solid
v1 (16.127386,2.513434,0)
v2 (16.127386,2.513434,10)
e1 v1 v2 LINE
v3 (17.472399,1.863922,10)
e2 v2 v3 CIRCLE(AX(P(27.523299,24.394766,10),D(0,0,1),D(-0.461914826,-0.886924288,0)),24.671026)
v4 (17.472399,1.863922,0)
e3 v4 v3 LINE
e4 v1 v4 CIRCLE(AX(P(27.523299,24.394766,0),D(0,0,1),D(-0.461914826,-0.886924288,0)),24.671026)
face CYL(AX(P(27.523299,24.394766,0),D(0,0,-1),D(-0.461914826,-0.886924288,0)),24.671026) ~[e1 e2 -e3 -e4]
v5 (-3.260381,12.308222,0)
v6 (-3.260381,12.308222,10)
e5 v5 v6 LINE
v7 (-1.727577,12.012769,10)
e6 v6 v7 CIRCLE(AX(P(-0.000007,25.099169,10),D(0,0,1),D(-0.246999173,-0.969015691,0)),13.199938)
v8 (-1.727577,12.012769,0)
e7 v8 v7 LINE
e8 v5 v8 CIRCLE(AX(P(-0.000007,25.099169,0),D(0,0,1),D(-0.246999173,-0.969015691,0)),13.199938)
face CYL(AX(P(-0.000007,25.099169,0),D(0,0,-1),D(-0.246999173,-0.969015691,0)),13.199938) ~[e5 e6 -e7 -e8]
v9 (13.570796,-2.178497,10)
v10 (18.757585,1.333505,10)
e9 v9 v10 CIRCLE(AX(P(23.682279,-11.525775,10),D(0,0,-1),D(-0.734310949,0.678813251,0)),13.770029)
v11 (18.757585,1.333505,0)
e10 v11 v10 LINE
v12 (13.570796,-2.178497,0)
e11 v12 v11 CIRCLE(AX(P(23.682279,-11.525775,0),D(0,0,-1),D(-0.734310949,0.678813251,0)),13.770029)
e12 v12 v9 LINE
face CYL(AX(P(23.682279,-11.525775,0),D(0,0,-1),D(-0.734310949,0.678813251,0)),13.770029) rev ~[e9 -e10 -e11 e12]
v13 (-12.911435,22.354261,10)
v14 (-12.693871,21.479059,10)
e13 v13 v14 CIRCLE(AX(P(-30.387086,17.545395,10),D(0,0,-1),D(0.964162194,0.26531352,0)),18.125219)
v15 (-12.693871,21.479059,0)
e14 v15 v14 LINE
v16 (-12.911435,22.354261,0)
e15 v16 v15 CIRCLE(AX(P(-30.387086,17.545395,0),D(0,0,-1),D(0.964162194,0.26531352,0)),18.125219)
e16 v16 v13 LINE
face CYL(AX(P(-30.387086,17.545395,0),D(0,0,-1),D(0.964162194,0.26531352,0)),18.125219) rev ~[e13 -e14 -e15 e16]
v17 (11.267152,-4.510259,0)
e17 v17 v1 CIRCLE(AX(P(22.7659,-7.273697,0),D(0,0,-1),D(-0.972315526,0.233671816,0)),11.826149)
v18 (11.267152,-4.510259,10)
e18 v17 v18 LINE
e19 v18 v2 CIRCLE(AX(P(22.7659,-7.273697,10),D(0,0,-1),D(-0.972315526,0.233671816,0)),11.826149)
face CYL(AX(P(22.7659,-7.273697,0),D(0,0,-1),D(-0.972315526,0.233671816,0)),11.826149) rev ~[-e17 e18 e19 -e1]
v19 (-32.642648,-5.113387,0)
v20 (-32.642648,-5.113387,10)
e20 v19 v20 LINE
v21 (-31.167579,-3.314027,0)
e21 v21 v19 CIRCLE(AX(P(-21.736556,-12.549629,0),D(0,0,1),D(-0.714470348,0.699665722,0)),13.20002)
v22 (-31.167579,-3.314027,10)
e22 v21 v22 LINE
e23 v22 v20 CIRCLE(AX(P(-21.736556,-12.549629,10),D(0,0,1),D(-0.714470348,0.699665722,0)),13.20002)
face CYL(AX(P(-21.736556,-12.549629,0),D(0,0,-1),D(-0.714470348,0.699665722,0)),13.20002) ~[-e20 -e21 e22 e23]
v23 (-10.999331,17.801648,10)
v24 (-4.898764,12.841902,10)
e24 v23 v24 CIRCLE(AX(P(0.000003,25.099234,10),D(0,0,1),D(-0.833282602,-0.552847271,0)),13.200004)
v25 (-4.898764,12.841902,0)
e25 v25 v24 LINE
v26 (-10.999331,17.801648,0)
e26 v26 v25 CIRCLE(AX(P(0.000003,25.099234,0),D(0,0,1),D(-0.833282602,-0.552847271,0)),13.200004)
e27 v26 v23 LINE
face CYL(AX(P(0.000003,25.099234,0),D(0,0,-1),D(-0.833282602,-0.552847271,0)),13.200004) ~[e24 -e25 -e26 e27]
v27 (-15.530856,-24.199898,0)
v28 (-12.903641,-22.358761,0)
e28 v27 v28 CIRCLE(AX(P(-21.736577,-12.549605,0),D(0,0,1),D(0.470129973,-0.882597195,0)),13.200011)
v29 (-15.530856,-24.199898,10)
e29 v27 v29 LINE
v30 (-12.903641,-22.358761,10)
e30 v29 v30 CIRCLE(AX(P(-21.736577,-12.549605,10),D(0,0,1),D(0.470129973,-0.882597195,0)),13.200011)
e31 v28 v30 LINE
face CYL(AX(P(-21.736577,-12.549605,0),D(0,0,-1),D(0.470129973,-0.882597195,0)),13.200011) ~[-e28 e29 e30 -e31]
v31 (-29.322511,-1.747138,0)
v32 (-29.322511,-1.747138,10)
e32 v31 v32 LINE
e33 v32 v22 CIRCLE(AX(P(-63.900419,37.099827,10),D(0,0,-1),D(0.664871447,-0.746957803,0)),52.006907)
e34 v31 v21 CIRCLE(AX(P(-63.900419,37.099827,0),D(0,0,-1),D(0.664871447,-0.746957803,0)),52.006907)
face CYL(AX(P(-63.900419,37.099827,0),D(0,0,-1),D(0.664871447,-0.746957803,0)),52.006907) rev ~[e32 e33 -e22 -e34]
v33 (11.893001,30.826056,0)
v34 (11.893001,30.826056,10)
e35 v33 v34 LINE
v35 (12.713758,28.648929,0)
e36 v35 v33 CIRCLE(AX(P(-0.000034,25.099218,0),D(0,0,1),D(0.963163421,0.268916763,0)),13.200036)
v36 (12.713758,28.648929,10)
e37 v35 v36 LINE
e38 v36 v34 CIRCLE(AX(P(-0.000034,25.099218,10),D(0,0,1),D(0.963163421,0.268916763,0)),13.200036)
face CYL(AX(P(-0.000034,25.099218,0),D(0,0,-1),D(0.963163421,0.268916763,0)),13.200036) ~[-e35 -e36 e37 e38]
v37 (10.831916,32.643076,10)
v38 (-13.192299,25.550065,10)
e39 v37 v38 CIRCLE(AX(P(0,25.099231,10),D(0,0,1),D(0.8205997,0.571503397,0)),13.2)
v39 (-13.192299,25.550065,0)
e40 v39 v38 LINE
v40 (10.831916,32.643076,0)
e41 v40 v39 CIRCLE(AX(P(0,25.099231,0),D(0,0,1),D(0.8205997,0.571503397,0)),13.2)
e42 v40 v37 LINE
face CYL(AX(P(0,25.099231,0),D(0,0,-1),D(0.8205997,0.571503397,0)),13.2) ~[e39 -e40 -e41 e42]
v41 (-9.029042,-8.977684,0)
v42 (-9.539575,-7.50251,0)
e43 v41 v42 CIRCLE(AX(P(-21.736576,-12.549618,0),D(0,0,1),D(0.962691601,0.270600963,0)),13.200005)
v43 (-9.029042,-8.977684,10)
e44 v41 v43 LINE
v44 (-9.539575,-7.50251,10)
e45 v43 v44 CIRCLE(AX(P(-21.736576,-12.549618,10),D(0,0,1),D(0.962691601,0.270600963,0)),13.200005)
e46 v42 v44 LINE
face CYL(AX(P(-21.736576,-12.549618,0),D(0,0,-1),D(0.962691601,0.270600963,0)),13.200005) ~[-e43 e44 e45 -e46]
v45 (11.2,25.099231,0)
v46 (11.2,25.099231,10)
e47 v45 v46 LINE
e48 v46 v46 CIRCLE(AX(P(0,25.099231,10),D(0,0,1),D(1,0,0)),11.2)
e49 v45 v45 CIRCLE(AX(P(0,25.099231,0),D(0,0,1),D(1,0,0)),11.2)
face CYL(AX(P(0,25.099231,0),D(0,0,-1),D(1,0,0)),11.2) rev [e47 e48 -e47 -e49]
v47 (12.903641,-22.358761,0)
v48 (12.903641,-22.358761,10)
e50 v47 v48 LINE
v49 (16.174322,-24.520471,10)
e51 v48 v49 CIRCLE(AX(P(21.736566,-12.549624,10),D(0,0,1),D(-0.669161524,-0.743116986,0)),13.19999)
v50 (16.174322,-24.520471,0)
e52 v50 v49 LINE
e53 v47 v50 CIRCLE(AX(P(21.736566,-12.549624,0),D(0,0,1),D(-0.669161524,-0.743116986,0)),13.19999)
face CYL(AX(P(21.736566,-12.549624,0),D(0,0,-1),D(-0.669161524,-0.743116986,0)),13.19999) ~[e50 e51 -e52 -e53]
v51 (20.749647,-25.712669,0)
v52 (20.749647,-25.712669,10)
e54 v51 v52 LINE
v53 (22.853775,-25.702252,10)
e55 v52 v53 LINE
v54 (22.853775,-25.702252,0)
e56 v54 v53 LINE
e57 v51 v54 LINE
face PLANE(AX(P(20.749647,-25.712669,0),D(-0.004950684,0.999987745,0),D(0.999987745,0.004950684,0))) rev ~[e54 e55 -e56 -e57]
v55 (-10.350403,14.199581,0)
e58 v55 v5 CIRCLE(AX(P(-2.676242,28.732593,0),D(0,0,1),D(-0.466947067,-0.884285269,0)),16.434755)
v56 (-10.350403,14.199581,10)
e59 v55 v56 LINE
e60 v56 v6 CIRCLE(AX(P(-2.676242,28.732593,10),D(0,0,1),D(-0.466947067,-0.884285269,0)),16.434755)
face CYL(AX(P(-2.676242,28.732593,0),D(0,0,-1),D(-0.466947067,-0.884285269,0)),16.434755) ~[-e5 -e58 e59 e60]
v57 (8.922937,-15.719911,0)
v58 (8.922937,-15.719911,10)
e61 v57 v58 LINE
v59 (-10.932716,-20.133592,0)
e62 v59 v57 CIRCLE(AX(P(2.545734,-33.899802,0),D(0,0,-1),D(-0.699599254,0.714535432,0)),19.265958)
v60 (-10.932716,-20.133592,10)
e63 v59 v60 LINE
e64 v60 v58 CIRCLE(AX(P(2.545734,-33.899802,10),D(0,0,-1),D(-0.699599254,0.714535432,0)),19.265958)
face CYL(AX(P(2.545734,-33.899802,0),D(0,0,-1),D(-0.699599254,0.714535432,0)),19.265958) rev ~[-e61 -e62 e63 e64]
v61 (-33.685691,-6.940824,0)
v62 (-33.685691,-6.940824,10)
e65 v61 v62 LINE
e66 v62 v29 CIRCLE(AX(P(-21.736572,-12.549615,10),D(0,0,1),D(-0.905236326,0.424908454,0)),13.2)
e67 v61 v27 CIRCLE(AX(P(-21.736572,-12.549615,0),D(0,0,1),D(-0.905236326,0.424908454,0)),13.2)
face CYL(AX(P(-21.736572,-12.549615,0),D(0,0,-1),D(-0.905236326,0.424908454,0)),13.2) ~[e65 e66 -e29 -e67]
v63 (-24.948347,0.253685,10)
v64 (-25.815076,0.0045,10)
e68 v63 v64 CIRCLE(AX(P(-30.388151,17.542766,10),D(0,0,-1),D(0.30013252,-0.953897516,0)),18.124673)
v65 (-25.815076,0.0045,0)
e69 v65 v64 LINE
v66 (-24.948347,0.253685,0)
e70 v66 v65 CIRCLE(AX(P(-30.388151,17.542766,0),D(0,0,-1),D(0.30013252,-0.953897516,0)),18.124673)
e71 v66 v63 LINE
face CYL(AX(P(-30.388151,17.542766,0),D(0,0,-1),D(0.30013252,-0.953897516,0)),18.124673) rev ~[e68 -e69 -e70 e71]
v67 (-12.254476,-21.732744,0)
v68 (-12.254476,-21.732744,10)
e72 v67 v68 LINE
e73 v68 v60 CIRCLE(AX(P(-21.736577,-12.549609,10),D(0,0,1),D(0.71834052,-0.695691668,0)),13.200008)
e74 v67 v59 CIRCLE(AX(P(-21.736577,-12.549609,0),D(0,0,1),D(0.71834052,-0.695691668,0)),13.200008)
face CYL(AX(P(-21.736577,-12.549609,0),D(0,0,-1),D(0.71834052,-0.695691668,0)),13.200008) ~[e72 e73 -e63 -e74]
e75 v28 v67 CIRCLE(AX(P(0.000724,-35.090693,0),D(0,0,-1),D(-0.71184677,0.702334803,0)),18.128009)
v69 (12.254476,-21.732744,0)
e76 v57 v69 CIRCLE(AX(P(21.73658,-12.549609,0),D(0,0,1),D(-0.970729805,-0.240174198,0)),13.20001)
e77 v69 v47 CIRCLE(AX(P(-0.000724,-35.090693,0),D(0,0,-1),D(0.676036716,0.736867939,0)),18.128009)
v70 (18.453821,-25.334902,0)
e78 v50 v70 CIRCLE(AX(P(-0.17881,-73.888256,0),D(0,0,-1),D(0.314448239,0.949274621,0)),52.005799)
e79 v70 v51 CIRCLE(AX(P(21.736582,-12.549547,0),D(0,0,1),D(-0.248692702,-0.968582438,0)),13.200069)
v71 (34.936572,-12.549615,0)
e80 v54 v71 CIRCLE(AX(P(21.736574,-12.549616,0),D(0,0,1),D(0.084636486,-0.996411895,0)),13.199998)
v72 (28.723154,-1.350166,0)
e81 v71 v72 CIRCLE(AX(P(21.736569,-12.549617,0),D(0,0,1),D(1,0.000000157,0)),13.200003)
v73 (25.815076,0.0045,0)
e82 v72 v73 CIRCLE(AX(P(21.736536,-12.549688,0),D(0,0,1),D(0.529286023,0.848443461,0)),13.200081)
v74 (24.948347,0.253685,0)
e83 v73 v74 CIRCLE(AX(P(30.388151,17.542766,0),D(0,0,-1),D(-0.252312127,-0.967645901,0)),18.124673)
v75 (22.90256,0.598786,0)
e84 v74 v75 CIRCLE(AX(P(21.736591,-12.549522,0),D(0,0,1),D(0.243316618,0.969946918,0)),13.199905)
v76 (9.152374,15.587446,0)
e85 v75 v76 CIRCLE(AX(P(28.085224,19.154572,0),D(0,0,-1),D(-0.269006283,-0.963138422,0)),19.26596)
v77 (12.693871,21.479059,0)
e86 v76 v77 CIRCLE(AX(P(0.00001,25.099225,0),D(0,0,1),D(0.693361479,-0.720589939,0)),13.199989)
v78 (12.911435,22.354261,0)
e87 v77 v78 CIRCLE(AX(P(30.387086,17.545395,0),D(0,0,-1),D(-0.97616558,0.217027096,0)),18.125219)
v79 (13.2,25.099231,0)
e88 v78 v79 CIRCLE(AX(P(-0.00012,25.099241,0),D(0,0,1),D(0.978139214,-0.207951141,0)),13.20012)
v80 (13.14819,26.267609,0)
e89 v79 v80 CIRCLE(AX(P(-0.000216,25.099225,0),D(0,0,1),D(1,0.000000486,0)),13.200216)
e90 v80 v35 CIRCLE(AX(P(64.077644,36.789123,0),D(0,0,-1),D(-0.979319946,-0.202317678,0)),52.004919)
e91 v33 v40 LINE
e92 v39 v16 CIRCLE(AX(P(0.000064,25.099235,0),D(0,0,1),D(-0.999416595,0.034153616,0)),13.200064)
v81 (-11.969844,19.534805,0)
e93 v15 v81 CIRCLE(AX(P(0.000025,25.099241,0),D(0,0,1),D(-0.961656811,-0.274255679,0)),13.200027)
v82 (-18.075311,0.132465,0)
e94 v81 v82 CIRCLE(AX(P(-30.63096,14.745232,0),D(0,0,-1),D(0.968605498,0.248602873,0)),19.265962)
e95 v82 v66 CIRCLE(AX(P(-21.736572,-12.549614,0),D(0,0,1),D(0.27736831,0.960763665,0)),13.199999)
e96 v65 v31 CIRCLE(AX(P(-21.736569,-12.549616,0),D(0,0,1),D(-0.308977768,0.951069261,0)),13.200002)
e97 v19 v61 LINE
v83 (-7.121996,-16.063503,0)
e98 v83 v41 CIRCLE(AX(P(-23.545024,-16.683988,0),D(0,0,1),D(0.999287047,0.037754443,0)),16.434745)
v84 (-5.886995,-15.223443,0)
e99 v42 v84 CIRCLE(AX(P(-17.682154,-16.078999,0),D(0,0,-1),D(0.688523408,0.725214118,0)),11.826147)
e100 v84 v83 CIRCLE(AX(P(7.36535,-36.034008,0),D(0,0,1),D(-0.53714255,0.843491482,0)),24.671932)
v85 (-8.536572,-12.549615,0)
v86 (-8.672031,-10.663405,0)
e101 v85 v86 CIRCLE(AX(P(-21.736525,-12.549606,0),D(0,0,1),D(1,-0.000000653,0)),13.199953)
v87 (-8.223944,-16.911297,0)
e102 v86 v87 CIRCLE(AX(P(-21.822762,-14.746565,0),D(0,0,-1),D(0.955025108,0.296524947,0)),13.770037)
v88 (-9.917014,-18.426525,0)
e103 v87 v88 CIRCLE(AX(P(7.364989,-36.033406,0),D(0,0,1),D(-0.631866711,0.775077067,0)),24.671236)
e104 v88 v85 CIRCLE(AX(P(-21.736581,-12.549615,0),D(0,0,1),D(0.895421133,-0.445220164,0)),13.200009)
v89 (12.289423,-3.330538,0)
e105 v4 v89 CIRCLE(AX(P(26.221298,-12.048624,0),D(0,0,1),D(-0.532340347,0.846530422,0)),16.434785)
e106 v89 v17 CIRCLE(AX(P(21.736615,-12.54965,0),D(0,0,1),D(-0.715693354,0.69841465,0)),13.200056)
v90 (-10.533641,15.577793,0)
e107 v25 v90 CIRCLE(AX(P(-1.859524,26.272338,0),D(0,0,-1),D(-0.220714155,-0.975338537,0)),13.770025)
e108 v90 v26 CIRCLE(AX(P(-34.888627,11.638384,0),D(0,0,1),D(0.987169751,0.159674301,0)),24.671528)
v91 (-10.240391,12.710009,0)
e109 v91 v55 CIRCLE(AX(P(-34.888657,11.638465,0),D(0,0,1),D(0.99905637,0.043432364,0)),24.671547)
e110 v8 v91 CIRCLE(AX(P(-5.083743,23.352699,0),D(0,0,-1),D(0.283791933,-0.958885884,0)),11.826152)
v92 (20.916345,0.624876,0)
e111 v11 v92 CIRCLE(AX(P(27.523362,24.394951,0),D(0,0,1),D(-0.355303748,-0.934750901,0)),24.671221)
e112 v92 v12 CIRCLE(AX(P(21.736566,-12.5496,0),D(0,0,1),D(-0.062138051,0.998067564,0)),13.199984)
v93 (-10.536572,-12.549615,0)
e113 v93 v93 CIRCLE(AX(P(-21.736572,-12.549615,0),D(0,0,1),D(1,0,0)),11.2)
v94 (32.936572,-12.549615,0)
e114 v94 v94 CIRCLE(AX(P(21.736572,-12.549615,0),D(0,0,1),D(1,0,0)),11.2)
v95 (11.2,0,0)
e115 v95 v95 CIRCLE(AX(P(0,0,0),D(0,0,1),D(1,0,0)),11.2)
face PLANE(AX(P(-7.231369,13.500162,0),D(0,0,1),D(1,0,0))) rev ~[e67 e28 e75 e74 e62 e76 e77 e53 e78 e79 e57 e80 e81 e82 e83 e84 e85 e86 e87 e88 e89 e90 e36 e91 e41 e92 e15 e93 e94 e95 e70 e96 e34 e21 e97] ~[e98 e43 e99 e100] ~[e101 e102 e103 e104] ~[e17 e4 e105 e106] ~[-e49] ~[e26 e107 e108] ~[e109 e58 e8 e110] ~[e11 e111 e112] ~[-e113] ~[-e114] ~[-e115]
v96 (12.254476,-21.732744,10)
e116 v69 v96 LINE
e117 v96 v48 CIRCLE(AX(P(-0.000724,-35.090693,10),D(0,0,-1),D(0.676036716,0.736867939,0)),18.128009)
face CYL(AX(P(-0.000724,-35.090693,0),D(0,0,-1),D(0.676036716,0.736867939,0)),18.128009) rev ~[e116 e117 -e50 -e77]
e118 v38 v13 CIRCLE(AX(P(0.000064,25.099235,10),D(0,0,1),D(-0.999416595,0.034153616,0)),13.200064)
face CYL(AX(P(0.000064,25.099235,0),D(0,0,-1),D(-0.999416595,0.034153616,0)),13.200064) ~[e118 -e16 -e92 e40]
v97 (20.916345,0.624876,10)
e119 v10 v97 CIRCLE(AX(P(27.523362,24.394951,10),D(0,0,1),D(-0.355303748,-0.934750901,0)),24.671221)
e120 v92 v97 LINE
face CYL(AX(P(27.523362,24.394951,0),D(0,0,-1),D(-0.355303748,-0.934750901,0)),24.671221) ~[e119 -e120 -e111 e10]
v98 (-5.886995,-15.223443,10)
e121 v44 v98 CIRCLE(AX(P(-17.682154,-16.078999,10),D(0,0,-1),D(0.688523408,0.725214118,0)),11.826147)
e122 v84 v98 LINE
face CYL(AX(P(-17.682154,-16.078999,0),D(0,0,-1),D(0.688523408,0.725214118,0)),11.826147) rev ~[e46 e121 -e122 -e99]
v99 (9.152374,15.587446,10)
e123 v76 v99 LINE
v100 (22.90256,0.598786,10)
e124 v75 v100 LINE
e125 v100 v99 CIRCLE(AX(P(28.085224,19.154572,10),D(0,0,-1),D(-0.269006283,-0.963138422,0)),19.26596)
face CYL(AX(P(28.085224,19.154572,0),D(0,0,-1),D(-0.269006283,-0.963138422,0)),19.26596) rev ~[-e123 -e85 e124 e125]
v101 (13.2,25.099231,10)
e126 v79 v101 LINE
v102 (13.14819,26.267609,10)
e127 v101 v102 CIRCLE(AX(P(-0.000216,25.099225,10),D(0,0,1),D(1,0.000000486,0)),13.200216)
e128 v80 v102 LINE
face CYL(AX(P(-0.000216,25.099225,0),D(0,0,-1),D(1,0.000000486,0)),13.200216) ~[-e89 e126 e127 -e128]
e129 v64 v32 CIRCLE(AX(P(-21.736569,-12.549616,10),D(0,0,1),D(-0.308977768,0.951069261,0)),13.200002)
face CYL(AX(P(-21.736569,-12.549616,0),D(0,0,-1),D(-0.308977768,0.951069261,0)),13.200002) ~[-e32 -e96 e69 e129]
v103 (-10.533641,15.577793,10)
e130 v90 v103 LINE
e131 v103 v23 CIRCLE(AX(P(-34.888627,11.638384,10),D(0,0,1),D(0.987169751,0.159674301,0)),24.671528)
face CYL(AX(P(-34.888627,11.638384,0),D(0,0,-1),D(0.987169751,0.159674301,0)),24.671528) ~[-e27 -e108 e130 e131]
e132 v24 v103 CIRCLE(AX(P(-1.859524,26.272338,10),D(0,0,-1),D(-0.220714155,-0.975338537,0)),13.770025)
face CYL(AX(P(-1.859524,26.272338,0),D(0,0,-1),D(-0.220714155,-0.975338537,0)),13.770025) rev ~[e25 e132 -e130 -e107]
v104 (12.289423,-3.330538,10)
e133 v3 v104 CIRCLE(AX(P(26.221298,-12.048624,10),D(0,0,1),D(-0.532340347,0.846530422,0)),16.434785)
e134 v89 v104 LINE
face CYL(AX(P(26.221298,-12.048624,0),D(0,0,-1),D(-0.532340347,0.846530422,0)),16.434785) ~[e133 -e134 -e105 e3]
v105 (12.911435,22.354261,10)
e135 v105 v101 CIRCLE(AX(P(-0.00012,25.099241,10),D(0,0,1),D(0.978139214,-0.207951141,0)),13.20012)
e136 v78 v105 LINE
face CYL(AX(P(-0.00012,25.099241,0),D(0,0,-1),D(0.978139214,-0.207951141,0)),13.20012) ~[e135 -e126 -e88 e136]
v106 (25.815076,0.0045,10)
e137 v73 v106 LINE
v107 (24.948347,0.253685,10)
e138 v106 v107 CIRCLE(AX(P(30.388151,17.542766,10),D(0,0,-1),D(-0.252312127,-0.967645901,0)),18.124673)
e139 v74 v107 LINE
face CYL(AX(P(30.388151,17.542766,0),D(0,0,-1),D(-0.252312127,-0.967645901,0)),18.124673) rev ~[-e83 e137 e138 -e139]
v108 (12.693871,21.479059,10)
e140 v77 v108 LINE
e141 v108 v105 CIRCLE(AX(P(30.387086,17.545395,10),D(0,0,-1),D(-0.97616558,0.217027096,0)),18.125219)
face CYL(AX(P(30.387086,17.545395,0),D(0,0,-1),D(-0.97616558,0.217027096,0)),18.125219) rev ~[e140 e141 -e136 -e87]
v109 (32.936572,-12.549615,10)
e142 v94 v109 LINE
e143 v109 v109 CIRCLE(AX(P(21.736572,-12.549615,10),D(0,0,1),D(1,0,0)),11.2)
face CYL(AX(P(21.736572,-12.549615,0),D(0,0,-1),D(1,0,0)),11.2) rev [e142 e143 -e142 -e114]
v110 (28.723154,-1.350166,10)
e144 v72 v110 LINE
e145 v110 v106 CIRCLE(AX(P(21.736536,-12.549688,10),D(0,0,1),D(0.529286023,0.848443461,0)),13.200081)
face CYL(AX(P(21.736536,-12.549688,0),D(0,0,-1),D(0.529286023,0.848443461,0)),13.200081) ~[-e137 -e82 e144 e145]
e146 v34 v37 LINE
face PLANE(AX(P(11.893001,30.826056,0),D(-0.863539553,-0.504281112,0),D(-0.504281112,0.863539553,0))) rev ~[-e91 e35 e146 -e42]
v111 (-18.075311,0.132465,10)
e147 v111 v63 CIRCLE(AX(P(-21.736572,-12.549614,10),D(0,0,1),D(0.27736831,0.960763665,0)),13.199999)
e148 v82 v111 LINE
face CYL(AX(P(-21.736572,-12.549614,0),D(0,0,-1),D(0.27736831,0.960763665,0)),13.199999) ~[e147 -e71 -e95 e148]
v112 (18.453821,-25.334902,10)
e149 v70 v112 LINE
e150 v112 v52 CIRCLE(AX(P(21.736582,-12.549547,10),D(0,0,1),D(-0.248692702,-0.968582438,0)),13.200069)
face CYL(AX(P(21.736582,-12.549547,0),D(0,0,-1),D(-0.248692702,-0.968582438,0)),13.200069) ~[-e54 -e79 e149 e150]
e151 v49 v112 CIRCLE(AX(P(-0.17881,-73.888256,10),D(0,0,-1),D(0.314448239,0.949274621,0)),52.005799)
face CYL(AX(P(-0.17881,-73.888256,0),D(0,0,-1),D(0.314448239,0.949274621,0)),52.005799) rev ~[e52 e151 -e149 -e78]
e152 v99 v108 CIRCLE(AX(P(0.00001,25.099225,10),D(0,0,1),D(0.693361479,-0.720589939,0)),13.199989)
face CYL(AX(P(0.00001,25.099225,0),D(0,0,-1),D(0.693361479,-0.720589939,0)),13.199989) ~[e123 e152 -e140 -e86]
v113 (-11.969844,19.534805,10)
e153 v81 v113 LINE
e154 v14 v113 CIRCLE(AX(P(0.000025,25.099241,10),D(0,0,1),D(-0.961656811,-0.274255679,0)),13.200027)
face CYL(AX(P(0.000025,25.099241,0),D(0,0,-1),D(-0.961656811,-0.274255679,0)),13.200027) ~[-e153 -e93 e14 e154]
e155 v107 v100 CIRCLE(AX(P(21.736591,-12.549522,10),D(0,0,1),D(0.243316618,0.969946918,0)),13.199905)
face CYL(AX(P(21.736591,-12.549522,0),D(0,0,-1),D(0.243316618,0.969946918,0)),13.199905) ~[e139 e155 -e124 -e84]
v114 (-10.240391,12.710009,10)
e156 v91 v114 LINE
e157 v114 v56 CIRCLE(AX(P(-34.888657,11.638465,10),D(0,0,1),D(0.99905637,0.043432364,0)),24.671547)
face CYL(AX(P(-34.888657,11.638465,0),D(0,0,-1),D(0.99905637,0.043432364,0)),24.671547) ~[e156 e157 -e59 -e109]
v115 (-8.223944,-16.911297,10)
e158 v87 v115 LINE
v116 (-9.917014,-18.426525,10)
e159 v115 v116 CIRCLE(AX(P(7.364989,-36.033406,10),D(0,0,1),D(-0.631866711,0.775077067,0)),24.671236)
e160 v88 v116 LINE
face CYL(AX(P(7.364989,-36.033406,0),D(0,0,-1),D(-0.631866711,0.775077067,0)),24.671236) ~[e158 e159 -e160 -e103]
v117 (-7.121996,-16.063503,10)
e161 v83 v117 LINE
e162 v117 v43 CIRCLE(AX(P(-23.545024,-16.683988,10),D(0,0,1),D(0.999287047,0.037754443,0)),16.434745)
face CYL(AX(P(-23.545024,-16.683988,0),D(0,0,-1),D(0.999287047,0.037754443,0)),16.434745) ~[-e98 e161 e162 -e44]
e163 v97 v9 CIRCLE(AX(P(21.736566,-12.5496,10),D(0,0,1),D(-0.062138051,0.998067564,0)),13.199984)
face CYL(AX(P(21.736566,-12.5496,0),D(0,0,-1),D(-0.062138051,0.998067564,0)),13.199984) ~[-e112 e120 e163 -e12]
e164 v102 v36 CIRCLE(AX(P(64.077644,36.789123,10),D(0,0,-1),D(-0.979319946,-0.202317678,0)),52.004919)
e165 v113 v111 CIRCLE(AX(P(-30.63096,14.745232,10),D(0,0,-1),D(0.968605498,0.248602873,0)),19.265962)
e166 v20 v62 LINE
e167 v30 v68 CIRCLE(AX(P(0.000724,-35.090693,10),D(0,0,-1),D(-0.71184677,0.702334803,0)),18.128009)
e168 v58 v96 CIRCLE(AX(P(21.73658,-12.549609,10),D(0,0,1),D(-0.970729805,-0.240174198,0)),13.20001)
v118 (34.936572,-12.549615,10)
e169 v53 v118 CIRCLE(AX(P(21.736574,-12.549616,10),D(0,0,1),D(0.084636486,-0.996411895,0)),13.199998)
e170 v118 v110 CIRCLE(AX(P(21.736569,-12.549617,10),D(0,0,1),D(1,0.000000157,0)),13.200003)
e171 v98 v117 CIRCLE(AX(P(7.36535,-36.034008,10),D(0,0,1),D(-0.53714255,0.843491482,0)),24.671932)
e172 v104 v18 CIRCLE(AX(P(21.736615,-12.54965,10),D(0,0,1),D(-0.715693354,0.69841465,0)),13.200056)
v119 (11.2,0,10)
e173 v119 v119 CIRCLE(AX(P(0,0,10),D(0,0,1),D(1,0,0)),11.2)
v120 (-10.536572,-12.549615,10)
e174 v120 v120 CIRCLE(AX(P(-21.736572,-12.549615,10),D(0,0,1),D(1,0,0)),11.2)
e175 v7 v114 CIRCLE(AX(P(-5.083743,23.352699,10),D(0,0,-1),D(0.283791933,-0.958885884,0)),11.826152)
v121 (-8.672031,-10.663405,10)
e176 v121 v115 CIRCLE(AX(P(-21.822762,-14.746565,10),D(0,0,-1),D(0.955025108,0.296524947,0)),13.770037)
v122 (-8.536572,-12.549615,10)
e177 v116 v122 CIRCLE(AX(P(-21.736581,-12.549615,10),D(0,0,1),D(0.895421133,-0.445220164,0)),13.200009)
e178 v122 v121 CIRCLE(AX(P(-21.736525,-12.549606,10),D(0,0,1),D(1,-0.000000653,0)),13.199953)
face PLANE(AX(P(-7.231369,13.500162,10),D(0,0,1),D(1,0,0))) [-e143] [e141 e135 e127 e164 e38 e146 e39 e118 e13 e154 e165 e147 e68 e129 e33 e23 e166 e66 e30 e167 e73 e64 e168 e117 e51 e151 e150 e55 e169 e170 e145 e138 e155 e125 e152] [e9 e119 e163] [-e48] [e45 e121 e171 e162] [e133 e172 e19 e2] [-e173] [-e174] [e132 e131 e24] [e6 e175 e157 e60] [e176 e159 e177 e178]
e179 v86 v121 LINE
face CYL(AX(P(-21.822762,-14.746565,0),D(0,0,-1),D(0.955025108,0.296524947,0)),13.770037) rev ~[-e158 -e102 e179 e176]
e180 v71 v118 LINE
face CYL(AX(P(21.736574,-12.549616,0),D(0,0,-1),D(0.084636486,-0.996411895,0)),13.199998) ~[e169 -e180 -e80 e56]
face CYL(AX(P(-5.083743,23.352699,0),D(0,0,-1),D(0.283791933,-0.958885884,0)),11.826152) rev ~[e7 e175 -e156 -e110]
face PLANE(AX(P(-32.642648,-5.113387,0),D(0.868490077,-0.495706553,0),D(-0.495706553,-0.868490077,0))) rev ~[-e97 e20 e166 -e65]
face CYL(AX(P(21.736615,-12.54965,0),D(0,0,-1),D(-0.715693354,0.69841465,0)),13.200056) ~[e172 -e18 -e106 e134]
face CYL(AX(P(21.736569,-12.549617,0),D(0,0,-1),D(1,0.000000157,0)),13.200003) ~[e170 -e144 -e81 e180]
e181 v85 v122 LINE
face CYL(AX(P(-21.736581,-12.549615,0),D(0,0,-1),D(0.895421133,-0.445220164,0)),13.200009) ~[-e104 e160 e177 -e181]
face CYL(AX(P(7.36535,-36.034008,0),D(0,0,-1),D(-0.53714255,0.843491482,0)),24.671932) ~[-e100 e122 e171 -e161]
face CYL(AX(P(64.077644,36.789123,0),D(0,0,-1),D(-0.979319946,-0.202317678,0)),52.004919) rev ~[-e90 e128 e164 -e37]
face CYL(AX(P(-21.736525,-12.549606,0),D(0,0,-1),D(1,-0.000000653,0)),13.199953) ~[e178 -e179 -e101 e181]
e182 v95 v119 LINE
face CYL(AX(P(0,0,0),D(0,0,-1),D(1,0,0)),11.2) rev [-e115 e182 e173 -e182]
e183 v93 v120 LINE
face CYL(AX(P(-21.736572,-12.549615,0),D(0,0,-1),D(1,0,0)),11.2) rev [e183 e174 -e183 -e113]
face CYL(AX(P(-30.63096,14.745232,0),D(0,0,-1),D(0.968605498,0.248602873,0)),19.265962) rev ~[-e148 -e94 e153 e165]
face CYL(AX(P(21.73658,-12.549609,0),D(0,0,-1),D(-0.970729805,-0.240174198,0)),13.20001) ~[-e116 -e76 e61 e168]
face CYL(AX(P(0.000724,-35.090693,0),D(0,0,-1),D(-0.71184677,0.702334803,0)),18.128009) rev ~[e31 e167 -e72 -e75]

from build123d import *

# Parameters (mm, degrees)
F0_R     = 11.2
F1_DEPTH = 10


with BuildPart() as f1:
    # F0 (on Top) → F1 (new body)
    with BuildSketch(Plane.XY):
        with BuildLine():
            ThreePointArc((-3.260381, 12.308222), (-4.08829, 12.548299), (-4.898764, 12.841902))
            ThreePointArc((-4.898764, 12.841902), (-7.873837, 13.885182), (-10.533641, 15.577793))
            ThreePointArc((-10.533641, 15.577793), (-10.432312, 14.889978), (-10.350403, 14.199581))
            ThreePointArc((-10.350403, 14.199581), (-6.9123, 12.853141), (-3.260381, 12.308222))
        make_face()
        with BuildLine():
            ThreePointArc((-10.999331, 17.801648), (-11.517235, 18.649945), (-11.969844, 19.534805))
            ThreePointArc((-11.969844, 19.534805), (-12.253411, 8.962243), (-18.075311, 0.132465))
            ThreePointArc((-18.075311, 0.132465), (-16.04011, -0.642041), (-14.159937, -1.740609))
            ThreePointArc((-14.159937, -1.740609), (-11.356021, 4.229127), (-10.233904, 10.7284))
            ThreePointArc((-10.233904, 10.7284), (-10.217244, 11.71927), (-10.240391, 12.710009))
            ThreePointArc((-10.240391, 12.710009), (-10.284122, 13.455628), (-10.350403, 14.199581))
            ThreePointArc((-10.350403, 14.199581), (-10.432312, 14.889978), (-10.533641, 15.577793))
            ThreePointArc((-10.533641, 15.577793), (-10.740872, 16.695084), (-10.999331, 17.801648))
        make_face()
        with BuildLine():
            ThreePointArc((-25.815076, 0.0045), (-27.634187, -0.740376), (-29.322511, -1.747138))
            ThreePointArc((-29.322511, -1.747138), (-30.235928, -2.541319), (-31.167579, -3.314027))
            ThreePointArc((-31.167579, -3.314027), (-31.944836, -4.181143), (-32.642648, -5.113387))
            Line((-32.642648, -5.113387), (-33.685691, -6.940824))
            ThreePointArc((-33.685691, -6.940824), (-30.831382, -22.116455), (-15.530856, -24.199898))
            ThreePointArc((-15.530856, -24.199898), (-14.161107, -23.359441), (-12.903641, -22.358761))
            ThreePointArc((-12.903641, -22.358761), (-12.582952, -22.041715), (-12.254476, -21.732744))
            ThreePointArc((-12.254476, -21.732744), (-11.562129, -20.959176), (-10.932716, -20.133592))
            ThreePointArc((-10.932716, -20.133592), (-10.392709, -19.299191), (-9.917014, -18.426525))
            ThreePointArc((-9.917014, -18.426525), (-8.886316, -15.568046), (-8.536572, -12.549615))
            ThreePointArc((-8.536572, -12.549615), (-8.57048, -11.604081), (-8.672031, -10.663405))
            ThreePointArc((-8.672031, -10.663405), (-8.823001, -9.814713), (-9.029042, -8.977684))
            ThreePointArc((-9.029042, -8.977684), (-9.262483, -8.232543), (-9.539575, -7.50251))
            ThreePointArc((-9.539575, -7.50251), (-9.896819, -6.7135), (-10.305036, -5.949615))
            ThreePointArc((-10.305036, -5.949615), (-12.002273, -3.634267), (-14.159937, -1.740609))
            ThreePointArc((-14.159937, -1.740609), (-16.04011, -0.642041), (-18.075311, 0.132465))
            ThreePointArc((-18.075311, 0.132465), (-21.503799, 0.648332), (-24.948347, 0.253685))
            ThreePointArc((-24.948347, 0.253685), (-25.380161, 0.123701), (-25.815076, 0.0045))
        make_face()
        with Locations((-21.736572, -12.549615)):
            Circle(F0_R, mode=Mode.SUBTRACT)
        with BuildLine():
            ThreePointArc((-10.240391, 12.710009), (-10.217244, 11.71927), (-10.233904, 10.7284))
            ThreePointArc((-10.233904, 10.7284), (-5.051167, 10.738809), (0, 11.899231))
            ThreePointArc((0, 11.899231), (-0.865652, 11.927646), (-1.727577, 12.012769))
            ThreePointArc((-1.727577, 12.012769), (-6.049129, 11.566016), (-10.240391, 12.710009))
        make_face()
        with BuildLine():
            ThreePointArc((9.152374, 15.587446), (7.464031, 14.212163), (5.572557, 13.13317))
            ThreePointArc((5.572557, 13.13317), (9.340542, 7.720039), (14.408019, 3.498621))
            ThreePointArc((14.408019, 3.498621), (15.257807, 2.988758), (16.127386, 2.513434))
            ThreePointArc((16.127386, 2.513434), (16.794976, 2.178497), (17.472399, 1.863922))
            ThreePointArc((17.472399, 1.863922), (18.111255, 1.589658), (18.757585, 1.333505))
            ThreePointArc((18.757585, 1.333505), (19.828803, 0.954326), (20.916345, 0.624876))
            ThreePointArc((20.916345, 0.624876), (21.909944, 0.649246), (22.90256, 0.598786))
            ThreePointArc((22.90256, 0.598786), (13.888235, 6.130644), (9.152374, 15.587446))
        make_face()
        with BuildLine():
            ThreePointArc((-10.233904, 10.7284), (-11.356021, 4.229127), (-14.159937, -1.740609))
            ThreePointArc((-14.159937, -1.740609), (-12.002273, -3.634267), (-10.305036, -5.949615))
            ThreePointArc((-10.305036, -5.949615), (-6.774498, -9.743843), (-4.174115, -14.227021))
            ThreePointArc((-4.174115, -14.227021), (2.015479, -11.949166), (8.587381, -11.392561))
            ThreePointArc((8.587381, -11.392561), (9.148504, -8.57714), (10.305036, -5.949615))
            ThreePointArc((10.305036, -5.949615), (11.825665, -0.994965), (14.408019, 3.498621))
            ThreePointArc((14.408019, 3.498621), (9.340542, 7.720039), (5.572557, 13.13317))
            ThreePointArc((5.572557, 13.13317), (2.853769, 12.211407), (0, 11.899231))
            ThreePointArc((0, 11.899231), (-5.051167, 10.738809), (-10.233904, 10.7284))
        make_face()
        Circle(F0_R, mode=Mode.SUBTRACT)
        with BuildLine():
            ThreePointArc((8.587381, -11.392561), (2.015479, -11.949166), (-4.174115, -14.227021))
            ThreePointArc((-4.174115, -14.227021), (-5.040564, -14.708027), (-5.886995, -15.223443))
            ThreePointArc((-5.886995, -15.223443), (-6.510854, -15.634125), (-7.121996, -16.063503))
            ThreePointArc((-7.121996, -16.063503), (-7.678943, -16.479636), (-8.223944, -16.911297))
            ThreePointArc((-8.223944, -16.911297), (-9.087931, -17.64941), (-9.917014, -18.426525))
            ThreePointArc((-9.917014, -18.426525), (-10.392709, -19.299191), (-10.932716, -20.133592))
            ThreePointArc((-10.932716, -20.133592), (-1.634824, -15.092886), (8.922937, -15.719911))
            ThreePointArc((8.922937, -15.719911), (8.576079, -13.570122), (8.587381, -11.392561))
        make_face()
        with BuildLine():
            ThreePointArc((-7.121996, -16.063503), (-7.674996, -12.412798), (-9.029042, -8.977684))
            ThreePointArc((-9.029042, -8.977684), (-8.823001, -9.814713), (-8.672031, -10.663405))
            ThreePointArc((-8.672031, -10.663405), (-8.088002, -13.761534), (-8.223944, -16.911297))
            ThreePointArc((-8.223944, -16.911297), (-7.678943, -16.479636), (-7.121996, -16.063503))
        make_face()
        with BuildLine():
            ThreePointArc((-4.174115, -14.227021), (-6.774498, -9.743843), (-10.305036, -5.949615))
            ThreePointArc((-10.305036, -5.949615), (-9.896819, -6.7135), (-9.539575, -7.50251))
            ThreePointArc((-9.539575, -7.50251), (-6.991899, -11.021707), (-5.886995, -15.223443))
            ThreePointArc((-5.886995, -15.223443), (-5.040564, -14.708027), (-4.174115, -14.227021))
        make_face()
        with BuildLine():
            ThreePointArc((12.289423, -3.330538), (12.911291, -2.733587), (13.570796, -2.178497))
            ThreePointArc((13.570796, -2.178497), (15.961839, -0.123648), (18.757585, 1.333505))
            ThreePointArc((18.757585, 1.333505), (18.111255, 1.589658), (17.472399, 1.863922))
            ThreePointArc((17.472399, 1.863922), (14.587297, -0.440343), (12.289423, -3.330538))
        make_face()
        with BuildLine():
            ThreePointArc((14.408019, 3.498621), (11.825665, -0.994965), (10.305036, -5.949615))
            ThreePointArc((10.305036, -5.949615), (10.76247, -5.214146), (11.267152, -4.510259))
            ThreePointArc((11.267152, -4.510259), (13.041028, -0.544309), (16.127386, 2.513434))
            ThreePointArc((16.127386, 2.513434), (15.257807, 2.988758), (14.408019, 3.498621))
        make_face()
        with BuildLine():
            ThreePointArc((34.936572, -12.549615), (33.279164, -6.145823), (28.723154, -1.350166))
            ThreePointArc((28.723154, -1.350166), (27.310423, -0.584158), (25.815076, 0.0045))
            ThreePointArc((25.815076, 0.0045), (25.380161, 0.123701), (24.948347, 0.253685))
            ThreePointArc((24.948347, 0.253685), (23.932244, 0.466491), (22.90256, 0.598786))
            ThreePointArc((22.90256, 0.598786), (21.909944, 0.649246), (20.916345, 0.624876))
            ThreePointArc((20.916345, 0.624876), (17.030003, -0.21721), (13.570796, -2.178497))
            ThreePointArc((13.570796, -2.178497), (12.911291, -2.733587), (12.289423, -3.330538))
            ThreePointArc((12.289423, -3.330538), (11.760833, -3.905274), (11.267152, -4.510259))
            ThreePointArc((11.267152, -4.510259), (10.76247, -5.214146), (10.305036, -5.949615))
            ThreePointArc((10.305036, -5.949615), (9.148504, -8.57714), (8.587381, -11.392561))
            ThreePointArc((8.587381, -11.392561), (8.576079, -13.570122), (8.922937, -15.719911))
            ThreePointArc((8.922937, -15.719911), (10.190428, -18.947002), (12.254476, -21.732744))
            ThreePointArc((12.254476, -21.732744), (12.582952, -22.041715), (12.903641, -22.358761))
            ThreePointArc((12.903641, -22.358761), (14.458278, -23.56172), (16.174322, -24.520471))
            ThreePointArc((16.174322, -24.520471), (17.31881, -24.914422), (18.453821, -25.334902))
            ThreePointArc((18.453821, -25.334902), (19.593394, -25.574468), (20.749647, -25.712669))
            Line((20.749647, -25.712669), (22.853775, -25.702252))
            ThreePointArc((22.853775, -25.702252), (31.457351, -21.479703), (34.936572, -12.549615))
        make_face()
        with Locations((21.736572, -12.549615)):
            Circle(F0_R, mode=Mode.SUBTRACT)
        with BuildLine():
            ThreePointArc((10.831916, 32.643076), (-3.737721, 37.758988), (-13.192299, 25.550065))
            ThreePointArc((-13.192299, 25.550065), (-13.149316, 23.943599), (-12.911435, 22.354261))
            ThreePointArc((-12.911435, 22.354261), (-12.797209, 21.918014), (-12.693871, 21.479059))
            ThreePointArc((-12.693871, 21.479059), (-12.370115, 20.492686), (-11.969844, 19.534805))
            ThreePointArc((-11.969844, 19.534805), (-11.517235, 18.649945), (-10.999331, 17.801648))
            ThreePointArc((-10.999331, 17.801648), (-8.326892, 14.857021), (-4.898764, 12.841902))
            ThreePointArc((-4.898764, 12.841902), (-4.08829, 12.548299), (-3.260381, 12.308222))
            ThreePointArc((-3.260381, 12.308222), (-2.49835, 12.137817), (-1.727577, 12.012769))
            ThreePointArc((-1.727577, 12.012769), (-0.865652, 11.927646), (0, 11.899231))
            ThreePointArc((0, 11.899231), (2.853769, 12.211407), (5.572557, 13.13317))
            ThreePointArc((5.572557, 13.13317), (7.464031, 14.212163), (9.152374, 15.587446))
            ThreePointArc((9.152374, 15.587446), (11.313372, 18.29867), (12.693871, 21.479059))
            ThreePointArc((12.693871, 21.479059), (12.797209, 21.918014), (12.911435, 22.354261))
            ThreePointArc((12.911435, 22.354261), (13.12766, 23.719183), (13.2, 25.099231))
            ThreePointArc((13.2, 25.099231), (13.187041, 25.683994), (13.14819, 26.267609))
            ThreePointArc((13.14819, 26.267609), (12.917117, 27.455741), (12.713758, 28.648929))
            ThreePointArc((12.713758, 28.648929), (12.351442, 29.755611), (11.893001, 30.826056))
            Line((11.893001, 30.826056), (10.831916, 32.643076))
        make_face()
        with Locations((0, 25.099231)):
            Circle(F0_R, mode=Mode.SUBTRACT)
    extrude(amount=F1_DEPTH)


solid = f1.part
